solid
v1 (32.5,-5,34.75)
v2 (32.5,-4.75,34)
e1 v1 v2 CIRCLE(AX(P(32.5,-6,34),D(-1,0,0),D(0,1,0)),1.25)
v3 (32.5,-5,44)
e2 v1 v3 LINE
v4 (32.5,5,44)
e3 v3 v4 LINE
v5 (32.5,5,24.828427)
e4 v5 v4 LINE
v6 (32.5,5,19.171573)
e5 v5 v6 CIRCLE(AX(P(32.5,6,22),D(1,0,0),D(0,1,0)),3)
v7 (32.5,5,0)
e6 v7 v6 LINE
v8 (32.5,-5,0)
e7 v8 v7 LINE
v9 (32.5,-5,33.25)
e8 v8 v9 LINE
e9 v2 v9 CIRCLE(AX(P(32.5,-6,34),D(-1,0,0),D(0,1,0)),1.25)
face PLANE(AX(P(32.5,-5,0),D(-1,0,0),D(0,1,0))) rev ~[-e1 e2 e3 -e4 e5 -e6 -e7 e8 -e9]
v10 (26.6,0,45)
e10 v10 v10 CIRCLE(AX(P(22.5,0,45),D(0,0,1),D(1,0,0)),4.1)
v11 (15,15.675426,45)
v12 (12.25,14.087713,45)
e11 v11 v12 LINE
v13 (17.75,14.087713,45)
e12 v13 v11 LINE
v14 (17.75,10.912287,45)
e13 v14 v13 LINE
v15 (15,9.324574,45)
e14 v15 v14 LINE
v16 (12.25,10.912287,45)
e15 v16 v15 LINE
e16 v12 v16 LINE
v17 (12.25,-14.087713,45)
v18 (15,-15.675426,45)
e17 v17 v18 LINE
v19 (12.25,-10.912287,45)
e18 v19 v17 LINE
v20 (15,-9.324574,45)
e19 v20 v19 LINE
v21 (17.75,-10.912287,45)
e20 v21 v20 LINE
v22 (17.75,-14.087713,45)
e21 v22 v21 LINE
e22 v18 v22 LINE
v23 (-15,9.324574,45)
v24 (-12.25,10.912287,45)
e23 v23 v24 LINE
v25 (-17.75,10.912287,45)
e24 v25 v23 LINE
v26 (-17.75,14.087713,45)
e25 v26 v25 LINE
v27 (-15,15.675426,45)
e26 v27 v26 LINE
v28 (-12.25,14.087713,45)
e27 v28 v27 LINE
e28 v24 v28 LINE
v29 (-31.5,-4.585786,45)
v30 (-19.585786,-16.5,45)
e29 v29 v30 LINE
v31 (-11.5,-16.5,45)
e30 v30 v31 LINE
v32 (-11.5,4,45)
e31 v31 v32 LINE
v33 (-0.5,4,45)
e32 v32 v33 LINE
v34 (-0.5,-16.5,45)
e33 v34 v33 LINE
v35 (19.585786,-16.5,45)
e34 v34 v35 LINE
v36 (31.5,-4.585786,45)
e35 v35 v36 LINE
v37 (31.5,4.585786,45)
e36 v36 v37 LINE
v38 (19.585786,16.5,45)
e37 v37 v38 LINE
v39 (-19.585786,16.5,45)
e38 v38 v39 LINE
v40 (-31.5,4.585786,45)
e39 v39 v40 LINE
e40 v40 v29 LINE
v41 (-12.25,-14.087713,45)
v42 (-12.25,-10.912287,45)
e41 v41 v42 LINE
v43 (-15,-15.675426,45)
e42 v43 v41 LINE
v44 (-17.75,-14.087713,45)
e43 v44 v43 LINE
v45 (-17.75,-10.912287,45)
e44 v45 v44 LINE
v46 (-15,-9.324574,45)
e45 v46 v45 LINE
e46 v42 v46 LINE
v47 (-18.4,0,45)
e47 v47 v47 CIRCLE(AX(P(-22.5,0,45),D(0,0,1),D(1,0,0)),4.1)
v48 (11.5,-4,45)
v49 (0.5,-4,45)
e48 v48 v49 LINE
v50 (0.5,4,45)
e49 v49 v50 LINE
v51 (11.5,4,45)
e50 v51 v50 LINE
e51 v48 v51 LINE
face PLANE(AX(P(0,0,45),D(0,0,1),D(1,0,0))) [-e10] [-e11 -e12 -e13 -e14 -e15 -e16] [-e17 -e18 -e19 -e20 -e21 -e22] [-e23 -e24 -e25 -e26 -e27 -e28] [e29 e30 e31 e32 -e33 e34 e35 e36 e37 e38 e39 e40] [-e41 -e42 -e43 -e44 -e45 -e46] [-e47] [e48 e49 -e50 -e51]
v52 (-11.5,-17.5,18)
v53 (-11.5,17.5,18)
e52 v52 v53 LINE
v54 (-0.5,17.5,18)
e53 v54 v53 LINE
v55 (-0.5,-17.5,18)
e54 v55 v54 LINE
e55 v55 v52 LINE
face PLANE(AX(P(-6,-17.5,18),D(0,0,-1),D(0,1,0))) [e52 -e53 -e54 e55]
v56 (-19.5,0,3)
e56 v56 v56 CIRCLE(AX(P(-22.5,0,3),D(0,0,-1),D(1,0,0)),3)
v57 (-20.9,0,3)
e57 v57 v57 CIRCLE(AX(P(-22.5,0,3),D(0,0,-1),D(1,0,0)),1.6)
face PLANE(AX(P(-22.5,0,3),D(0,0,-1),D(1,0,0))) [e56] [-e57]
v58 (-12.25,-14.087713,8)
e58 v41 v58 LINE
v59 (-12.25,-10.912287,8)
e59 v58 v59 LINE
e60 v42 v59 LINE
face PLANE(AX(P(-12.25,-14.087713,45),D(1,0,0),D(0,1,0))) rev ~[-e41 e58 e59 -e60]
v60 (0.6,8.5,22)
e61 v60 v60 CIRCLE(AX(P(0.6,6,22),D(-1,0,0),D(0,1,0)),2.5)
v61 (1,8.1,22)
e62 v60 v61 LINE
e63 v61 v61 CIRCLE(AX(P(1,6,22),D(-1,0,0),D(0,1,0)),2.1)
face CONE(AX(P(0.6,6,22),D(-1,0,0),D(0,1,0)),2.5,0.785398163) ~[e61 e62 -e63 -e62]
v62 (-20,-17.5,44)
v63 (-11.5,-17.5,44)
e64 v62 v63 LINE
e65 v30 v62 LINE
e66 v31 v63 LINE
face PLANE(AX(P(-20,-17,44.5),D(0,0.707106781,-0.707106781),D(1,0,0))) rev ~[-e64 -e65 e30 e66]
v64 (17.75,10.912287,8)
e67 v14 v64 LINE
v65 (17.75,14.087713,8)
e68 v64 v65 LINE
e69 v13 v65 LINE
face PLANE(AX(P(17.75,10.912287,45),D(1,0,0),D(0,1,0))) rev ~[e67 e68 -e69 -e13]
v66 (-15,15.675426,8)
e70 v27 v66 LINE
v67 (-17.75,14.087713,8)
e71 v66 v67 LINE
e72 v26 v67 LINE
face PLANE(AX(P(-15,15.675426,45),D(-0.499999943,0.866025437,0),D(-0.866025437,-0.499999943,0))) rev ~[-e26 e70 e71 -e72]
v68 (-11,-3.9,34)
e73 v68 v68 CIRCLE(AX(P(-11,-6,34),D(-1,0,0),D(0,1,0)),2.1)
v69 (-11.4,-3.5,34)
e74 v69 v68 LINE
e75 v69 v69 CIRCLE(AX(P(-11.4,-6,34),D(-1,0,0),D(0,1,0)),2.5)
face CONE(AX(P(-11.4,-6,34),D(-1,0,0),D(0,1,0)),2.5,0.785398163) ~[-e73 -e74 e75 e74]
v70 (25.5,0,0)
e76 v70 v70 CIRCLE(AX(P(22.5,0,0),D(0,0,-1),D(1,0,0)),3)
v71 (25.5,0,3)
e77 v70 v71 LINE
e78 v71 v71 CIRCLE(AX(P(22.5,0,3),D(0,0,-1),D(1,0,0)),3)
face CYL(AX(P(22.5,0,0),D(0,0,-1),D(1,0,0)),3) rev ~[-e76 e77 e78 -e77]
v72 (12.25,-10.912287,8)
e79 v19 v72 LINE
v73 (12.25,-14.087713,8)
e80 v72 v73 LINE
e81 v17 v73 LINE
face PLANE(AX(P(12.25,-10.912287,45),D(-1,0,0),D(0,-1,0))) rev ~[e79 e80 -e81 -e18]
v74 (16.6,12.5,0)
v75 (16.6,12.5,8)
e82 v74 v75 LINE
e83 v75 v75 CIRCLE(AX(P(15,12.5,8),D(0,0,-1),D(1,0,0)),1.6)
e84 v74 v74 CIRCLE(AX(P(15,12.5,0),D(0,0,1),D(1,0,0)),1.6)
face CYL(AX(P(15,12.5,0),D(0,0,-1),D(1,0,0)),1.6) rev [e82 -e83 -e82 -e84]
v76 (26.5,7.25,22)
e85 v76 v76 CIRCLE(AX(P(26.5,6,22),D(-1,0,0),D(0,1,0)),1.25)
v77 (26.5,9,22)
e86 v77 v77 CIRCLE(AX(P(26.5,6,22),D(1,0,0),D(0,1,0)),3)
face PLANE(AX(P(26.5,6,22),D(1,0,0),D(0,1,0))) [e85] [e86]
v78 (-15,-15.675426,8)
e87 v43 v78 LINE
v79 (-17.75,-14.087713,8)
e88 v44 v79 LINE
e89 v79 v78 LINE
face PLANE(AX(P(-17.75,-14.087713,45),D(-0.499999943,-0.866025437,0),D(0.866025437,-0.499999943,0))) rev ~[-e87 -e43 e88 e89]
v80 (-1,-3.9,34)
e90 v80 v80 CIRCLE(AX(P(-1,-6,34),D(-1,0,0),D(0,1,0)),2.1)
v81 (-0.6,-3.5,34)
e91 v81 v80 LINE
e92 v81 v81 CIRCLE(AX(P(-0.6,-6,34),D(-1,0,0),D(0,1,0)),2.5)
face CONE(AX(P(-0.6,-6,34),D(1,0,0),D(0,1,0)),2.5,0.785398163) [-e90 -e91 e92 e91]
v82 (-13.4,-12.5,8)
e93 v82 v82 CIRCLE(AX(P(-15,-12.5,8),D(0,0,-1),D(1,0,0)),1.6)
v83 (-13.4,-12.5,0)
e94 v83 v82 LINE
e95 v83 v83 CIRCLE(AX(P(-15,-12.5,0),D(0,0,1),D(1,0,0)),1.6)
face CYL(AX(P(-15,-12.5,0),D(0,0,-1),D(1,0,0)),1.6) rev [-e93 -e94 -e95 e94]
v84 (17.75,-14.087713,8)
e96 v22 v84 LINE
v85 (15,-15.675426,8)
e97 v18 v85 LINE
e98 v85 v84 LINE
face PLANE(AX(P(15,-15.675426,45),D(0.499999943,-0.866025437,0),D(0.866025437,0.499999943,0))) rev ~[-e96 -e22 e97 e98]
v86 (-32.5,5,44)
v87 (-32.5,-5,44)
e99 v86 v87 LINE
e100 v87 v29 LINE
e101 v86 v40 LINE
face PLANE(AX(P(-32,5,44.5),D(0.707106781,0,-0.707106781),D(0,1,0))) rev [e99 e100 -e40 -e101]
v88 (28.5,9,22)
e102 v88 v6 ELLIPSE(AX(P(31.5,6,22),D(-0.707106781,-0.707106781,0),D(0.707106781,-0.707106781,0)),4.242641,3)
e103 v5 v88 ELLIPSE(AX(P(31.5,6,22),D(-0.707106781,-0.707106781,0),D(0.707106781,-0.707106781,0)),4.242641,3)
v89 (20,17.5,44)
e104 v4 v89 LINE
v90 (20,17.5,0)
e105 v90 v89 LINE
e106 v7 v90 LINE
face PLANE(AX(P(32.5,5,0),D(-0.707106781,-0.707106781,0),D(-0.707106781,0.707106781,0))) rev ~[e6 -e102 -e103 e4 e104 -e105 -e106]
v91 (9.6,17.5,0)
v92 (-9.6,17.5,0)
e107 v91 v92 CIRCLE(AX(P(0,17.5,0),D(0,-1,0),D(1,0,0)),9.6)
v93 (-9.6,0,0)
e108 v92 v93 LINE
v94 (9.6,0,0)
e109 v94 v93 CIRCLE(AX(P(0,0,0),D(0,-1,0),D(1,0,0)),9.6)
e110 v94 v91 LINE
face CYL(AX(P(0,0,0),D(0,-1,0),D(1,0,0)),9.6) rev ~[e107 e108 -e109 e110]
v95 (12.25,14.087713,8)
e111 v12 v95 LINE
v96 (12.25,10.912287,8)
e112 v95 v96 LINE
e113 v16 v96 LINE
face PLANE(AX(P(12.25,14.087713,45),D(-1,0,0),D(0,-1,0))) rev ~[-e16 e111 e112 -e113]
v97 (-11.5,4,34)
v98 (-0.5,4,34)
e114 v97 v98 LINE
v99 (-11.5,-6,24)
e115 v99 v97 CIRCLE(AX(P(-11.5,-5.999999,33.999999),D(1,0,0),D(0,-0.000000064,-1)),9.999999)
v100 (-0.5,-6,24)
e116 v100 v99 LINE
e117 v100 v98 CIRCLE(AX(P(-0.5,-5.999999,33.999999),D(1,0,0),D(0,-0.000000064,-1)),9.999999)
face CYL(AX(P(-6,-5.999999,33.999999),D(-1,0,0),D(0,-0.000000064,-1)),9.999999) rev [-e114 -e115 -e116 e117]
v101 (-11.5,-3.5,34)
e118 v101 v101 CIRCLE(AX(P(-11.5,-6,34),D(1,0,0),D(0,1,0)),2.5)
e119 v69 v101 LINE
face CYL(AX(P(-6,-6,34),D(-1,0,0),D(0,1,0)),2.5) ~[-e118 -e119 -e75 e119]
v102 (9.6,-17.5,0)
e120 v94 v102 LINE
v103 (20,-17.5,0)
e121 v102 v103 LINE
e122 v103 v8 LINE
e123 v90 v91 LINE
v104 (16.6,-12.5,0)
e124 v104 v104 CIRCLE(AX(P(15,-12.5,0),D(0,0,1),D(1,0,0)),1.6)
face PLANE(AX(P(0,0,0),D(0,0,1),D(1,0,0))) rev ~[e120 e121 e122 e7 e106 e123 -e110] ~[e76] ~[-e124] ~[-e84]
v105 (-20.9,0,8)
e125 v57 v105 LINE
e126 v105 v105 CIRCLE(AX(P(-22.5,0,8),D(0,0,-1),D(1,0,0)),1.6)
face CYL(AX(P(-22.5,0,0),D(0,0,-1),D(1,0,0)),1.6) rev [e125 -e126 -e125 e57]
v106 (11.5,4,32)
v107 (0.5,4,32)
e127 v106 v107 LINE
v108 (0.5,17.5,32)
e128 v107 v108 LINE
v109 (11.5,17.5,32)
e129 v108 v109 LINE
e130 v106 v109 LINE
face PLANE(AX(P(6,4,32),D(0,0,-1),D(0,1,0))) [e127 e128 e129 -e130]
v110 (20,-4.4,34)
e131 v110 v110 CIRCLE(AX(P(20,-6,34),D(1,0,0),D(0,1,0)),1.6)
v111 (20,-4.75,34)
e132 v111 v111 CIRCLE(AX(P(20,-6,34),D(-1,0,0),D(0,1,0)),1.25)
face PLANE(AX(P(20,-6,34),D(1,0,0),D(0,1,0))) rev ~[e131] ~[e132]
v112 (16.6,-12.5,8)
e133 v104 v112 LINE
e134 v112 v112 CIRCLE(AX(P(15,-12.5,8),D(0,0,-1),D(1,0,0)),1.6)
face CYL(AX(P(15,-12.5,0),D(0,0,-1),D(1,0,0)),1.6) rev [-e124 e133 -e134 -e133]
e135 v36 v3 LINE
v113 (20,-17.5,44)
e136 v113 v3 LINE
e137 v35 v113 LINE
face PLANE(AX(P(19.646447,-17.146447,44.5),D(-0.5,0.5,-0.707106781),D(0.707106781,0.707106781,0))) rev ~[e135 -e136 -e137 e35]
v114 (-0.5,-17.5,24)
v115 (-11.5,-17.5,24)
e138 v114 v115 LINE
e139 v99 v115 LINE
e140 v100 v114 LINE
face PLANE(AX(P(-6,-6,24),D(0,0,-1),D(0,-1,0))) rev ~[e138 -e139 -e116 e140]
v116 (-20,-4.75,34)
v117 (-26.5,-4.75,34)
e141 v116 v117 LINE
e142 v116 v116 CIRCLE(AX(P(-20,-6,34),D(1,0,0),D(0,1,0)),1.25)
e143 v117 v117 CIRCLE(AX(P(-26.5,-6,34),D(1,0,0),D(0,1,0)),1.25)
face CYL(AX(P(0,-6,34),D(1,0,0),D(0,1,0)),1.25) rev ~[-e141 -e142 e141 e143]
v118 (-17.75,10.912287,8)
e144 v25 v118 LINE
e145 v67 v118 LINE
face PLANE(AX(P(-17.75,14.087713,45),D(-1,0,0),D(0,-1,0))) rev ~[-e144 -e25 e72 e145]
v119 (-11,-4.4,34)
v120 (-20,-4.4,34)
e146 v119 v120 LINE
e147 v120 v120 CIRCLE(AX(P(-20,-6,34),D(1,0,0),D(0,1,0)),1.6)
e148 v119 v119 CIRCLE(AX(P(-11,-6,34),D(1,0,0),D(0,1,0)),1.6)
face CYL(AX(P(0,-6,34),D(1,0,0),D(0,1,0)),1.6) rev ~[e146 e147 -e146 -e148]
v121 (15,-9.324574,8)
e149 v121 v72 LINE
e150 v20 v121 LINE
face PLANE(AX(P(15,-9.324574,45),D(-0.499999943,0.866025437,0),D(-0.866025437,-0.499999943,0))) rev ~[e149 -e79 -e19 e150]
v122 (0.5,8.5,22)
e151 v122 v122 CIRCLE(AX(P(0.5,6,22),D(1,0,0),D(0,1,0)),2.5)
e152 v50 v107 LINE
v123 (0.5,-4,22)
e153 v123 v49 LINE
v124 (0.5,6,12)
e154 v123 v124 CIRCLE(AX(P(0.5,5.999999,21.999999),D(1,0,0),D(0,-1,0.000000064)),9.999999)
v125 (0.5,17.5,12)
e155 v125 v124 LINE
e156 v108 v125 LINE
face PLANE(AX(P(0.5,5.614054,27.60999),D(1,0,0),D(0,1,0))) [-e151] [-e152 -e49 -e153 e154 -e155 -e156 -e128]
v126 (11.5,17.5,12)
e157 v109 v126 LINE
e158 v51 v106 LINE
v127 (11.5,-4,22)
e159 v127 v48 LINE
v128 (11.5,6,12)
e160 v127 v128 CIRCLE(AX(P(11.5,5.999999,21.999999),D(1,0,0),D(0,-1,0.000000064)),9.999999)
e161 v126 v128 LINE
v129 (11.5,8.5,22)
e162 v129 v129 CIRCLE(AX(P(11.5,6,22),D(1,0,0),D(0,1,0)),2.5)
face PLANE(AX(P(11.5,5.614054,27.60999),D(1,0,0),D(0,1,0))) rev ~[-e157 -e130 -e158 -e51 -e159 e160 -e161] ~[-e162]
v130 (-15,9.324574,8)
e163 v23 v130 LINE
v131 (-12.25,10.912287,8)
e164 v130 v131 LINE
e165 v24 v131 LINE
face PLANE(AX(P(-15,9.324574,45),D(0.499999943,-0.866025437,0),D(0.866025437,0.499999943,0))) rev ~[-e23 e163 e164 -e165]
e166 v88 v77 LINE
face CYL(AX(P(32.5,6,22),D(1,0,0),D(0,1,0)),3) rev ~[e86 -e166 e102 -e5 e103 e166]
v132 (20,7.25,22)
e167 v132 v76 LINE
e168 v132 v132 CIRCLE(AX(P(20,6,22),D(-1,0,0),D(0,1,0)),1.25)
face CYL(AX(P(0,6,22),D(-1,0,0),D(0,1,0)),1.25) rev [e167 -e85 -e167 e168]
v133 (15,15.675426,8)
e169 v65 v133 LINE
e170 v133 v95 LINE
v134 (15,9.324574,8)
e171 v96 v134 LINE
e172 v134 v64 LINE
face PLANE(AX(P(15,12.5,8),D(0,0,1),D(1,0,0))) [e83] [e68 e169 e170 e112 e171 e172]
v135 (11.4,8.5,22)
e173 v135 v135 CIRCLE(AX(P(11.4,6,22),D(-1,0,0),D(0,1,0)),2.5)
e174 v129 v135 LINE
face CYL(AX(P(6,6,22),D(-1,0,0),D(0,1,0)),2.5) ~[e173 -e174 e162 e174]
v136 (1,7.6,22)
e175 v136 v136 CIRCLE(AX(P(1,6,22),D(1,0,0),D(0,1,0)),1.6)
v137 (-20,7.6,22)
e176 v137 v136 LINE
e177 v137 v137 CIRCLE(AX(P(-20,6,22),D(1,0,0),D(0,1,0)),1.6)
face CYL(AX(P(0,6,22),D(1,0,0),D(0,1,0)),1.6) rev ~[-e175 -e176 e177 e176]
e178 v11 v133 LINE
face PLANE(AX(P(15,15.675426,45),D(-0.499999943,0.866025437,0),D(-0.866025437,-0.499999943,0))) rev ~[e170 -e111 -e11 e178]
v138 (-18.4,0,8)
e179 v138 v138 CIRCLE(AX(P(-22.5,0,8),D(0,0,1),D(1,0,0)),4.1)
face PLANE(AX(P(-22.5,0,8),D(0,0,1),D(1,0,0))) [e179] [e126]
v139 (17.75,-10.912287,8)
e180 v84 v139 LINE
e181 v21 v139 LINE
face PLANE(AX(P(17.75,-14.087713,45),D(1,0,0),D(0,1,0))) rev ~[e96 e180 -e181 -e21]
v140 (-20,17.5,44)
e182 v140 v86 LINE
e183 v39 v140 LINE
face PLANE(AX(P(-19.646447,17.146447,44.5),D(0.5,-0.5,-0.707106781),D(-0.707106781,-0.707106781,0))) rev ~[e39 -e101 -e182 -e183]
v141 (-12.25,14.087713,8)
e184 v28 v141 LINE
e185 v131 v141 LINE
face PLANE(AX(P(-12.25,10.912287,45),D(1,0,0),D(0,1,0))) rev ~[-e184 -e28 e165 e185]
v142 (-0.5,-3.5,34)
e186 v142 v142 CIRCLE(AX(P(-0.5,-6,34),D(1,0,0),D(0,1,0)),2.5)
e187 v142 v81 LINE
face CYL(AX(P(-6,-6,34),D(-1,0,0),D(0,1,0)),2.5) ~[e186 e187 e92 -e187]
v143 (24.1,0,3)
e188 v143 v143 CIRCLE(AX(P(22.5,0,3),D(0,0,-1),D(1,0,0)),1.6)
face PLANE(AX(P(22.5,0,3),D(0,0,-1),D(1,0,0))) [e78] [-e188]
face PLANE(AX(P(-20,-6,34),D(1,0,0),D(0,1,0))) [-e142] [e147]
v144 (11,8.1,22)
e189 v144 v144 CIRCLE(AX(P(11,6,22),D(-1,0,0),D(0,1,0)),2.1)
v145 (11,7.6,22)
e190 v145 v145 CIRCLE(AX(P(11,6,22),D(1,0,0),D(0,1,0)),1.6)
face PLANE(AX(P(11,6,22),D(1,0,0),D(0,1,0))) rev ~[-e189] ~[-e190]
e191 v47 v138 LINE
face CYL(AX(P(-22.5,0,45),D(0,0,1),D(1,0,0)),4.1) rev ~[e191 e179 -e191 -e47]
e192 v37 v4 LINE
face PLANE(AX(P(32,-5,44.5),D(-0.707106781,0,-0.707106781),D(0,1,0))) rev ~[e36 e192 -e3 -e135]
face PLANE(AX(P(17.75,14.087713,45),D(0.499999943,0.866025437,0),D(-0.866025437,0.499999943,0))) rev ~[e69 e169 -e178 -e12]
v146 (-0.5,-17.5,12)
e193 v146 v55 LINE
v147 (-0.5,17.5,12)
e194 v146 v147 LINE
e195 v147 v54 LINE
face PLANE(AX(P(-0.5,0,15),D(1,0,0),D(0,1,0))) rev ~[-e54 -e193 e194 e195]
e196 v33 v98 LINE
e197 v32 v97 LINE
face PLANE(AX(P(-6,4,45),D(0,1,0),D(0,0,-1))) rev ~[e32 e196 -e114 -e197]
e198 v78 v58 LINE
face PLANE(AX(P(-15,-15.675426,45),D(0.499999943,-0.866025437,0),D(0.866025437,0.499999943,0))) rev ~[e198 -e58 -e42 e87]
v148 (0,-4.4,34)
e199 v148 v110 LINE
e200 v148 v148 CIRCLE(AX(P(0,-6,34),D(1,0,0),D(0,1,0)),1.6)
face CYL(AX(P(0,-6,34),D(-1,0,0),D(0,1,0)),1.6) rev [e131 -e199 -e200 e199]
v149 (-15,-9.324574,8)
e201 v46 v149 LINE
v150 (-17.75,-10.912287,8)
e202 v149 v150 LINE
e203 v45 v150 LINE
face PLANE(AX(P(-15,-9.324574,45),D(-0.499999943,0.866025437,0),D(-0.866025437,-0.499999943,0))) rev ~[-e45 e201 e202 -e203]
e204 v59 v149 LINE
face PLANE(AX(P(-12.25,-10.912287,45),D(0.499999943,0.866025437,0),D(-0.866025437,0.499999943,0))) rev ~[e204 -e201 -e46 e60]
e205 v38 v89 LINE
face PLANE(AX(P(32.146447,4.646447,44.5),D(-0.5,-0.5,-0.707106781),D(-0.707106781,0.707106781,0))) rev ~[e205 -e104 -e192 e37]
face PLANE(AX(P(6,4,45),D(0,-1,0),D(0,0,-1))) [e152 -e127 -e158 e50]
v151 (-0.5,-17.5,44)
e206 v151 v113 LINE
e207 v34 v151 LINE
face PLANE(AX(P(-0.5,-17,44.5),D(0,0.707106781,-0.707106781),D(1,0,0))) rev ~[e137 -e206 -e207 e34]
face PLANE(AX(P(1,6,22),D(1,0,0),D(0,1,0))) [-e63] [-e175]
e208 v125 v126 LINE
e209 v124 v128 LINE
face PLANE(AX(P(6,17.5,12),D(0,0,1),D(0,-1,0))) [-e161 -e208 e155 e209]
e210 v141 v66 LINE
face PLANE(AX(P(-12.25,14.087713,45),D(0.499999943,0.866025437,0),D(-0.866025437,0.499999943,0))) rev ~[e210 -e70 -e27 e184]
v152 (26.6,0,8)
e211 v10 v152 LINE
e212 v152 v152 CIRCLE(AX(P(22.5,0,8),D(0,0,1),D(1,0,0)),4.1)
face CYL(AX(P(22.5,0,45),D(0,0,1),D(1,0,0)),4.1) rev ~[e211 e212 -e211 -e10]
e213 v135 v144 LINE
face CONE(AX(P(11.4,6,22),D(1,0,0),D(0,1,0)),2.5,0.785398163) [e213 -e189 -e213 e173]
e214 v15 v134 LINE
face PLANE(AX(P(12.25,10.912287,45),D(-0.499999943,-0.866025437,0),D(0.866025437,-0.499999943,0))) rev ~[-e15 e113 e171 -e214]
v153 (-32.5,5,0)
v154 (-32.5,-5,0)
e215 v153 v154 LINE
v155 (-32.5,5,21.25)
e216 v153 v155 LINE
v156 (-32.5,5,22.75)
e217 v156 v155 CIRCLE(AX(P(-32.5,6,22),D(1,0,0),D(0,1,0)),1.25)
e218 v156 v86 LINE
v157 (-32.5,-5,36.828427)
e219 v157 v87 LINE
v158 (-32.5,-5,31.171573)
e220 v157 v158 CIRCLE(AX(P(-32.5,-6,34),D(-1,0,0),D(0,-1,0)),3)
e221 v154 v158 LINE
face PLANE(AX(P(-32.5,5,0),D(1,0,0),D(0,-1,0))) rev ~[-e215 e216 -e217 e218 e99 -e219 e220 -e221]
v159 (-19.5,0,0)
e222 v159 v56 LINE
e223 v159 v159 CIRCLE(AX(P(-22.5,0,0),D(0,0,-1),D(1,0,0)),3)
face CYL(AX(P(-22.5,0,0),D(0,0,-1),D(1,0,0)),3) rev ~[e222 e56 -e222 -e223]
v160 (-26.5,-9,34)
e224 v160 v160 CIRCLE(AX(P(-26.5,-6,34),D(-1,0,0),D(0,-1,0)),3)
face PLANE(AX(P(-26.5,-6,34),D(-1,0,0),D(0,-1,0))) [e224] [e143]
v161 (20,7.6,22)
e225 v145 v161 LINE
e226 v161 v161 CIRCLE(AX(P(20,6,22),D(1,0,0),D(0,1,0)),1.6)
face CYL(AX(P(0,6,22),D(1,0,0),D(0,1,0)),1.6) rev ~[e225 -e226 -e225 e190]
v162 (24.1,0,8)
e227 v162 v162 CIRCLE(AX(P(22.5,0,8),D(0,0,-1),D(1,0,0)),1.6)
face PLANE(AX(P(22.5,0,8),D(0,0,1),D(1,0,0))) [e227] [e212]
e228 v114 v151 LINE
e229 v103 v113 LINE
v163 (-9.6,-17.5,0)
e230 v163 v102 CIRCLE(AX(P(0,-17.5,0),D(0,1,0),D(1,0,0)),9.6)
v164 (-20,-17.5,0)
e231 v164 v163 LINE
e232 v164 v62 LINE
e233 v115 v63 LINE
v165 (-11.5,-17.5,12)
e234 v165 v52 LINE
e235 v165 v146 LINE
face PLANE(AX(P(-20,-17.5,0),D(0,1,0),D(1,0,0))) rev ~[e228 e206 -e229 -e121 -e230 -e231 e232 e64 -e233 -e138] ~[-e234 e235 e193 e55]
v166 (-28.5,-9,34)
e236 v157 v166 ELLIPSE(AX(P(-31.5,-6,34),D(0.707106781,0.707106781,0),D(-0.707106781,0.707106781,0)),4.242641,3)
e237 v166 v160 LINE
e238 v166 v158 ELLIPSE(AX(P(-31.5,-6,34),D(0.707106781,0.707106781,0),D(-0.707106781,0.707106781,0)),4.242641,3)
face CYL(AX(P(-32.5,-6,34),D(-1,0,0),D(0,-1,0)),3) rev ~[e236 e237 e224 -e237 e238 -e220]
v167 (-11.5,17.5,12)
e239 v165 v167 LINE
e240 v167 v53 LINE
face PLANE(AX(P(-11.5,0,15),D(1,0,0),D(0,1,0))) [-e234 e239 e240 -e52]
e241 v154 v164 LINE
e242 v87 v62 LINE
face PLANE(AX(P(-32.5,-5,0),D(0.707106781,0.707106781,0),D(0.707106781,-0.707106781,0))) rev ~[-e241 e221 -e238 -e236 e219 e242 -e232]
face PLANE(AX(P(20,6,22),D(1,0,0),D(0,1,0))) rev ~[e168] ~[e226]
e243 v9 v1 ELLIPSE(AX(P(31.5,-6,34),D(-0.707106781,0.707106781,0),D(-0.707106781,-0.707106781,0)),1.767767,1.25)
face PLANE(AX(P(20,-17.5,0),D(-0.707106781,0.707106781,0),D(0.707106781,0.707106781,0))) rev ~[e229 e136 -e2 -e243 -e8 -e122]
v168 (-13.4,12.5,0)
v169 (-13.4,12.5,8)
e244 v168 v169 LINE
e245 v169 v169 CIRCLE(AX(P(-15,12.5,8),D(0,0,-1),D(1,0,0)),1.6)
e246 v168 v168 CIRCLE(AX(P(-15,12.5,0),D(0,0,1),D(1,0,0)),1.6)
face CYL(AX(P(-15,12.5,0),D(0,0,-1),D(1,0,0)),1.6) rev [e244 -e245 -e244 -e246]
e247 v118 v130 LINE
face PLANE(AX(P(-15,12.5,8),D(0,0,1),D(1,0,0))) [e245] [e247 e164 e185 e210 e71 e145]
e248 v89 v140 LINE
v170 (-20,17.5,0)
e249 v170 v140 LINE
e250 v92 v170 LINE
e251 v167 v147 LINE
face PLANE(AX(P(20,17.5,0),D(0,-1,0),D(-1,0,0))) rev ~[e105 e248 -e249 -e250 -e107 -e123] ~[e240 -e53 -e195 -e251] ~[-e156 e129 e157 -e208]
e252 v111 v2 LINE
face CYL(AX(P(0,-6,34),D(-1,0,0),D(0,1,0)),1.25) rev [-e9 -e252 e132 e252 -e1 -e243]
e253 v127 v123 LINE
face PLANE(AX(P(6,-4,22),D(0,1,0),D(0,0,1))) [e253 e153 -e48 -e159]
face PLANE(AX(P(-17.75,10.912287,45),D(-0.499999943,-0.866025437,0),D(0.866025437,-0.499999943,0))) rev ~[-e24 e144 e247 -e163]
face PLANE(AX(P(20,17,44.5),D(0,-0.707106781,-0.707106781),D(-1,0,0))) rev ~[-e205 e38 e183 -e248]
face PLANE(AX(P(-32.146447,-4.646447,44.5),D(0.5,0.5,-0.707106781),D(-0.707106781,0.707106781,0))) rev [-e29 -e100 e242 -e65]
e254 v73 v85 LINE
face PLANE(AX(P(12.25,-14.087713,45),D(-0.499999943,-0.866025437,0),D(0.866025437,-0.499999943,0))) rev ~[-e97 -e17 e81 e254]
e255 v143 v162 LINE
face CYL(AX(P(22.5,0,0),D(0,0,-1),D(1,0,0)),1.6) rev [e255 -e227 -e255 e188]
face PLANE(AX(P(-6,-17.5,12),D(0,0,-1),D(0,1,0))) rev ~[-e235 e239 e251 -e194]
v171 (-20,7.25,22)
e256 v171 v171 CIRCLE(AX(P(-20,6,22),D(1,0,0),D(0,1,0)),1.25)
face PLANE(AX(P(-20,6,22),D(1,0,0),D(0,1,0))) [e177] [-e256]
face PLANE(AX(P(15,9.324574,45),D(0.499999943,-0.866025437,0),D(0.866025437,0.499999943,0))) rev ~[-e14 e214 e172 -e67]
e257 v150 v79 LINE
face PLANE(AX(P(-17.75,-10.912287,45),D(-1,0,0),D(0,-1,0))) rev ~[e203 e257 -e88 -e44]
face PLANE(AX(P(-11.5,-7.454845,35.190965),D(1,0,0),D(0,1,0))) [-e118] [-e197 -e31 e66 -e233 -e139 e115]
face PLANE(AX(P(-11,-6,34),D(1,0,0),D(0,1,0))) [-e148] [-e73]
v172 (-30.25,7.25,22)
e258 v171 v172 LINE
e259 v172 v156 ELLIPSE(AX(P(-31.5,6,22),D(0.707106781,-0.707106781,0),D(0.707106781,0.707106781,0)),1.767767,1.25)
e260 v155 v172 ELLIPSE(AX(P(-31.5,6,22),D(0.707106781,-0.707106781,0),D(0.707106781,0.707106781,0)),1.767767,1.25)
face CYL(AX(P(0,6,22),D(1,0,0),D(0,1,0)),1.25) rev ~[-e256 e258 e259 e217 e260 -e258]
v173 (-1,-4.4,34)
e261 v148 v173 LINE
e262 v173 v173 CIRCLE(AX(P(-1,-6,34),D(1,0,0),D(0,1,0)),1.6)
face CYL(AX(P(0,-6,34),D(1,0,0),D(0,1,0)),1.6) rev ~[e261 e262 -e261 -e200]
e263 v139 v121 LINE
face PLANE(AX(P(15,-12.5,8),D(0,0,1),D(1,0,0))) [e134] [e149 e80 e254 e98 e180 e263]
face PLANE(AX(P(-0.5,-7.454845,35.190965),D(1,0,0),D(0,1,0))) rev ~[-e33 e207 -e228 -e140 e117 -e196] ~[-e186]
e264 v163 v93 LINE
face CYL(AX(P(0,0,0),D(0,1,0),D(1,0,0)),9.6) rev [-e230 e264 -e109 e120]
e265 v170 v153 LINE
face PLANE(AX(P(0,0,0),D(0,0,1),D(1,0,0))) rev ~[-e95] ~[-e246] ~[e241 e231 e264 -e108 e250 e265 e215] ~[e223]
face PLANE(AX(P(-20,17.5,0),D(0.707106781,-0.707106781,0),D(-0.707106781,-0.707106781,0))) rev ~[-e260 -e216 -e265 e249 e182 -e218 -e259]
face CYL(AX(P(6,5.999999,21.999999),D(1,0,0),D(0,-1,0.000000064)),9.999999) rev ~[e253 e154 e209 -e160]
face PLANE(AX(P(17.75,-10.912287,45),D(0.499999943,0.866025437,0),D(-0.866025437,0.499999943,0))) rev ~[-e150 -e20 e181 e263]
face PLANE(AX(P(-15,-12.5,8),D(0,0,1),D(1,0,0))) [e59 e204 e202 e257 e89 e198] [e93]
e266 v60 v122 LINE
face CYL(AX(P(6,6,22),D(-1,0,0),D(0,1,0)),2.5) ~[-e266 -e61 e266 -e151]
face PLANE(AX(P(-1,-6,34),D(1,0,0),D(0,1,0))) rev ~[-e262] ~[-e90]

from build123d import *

# Parameters (mm, degrees)
SKETCH_R             = 1.6
PAD_DEPTH            = 45
SKETCH001_R          = 4.1
POCKET_DEPTH         = 37
SKETCH002_R          = 9.6
POCKET001_DEPTH      = 17.501
POCKET001_DEPTH_BACK = -17.501
SKETCH003_R          = 2.5
SKETCH003_W          = 35
SKETCH003_H          = 6
POCKET002_DEPTH      = 5.5
SKETCH004_R          = 4
POCKET003_DEPTH      = 5
SKETCH005_R          = 2.5
POCKET004_DEPTH      = 5.5
SKETCH006_R          = 4
POCKET005_DEPTH      = 5
SKETCH007_R          = 1.25
POCKET006_DEPTH      = 32.501
POCKET006_DEPTH_BACK = -32.501
SKETCH008_R          = 1.6
POCKET007_DEPTH      = 20
SKETCH009_R          = 3
POCKET008_DEPTH      = 6
SKETCH010_R          = 3
POCKET009_DEPTH      = 6
SKETCH011_R          = 3
POCKET010_DEPTH      = 3
CHAMFER_SIZE         = 1
CHAMFER001_SIZE      = 0.4


with BuildPart() as part:
    # Sketch → Pad (new body)
    with BuildSketch(Plane.XY):
        Polygon((-32.5, 5), (-32.5, -5), (-20, -17.5), (20, -17.5), (32.5, -5), (32.5, 5), (20, 17.5), (-20, 17.5), align=None)
        with Locations((-15, 12.5)):
            Circle(SKETCH_R, mode=Mode.SUBTRACT)
        with Locations((-15, -12.5)):
            Circle(SKETCH_R, mode=Mode.SUBTRACT)
        with Locations((15, -12.5)):
            Circle(SKETCH_R, mode=Mode.SUBTRACT)
        with Locations((15, 12.5)):
            Circle(SKETCH_R, mode=Mode.SUBTRACT)
        with Locations((22.5, 0)):
            Circle(SKETCH_R, mode=Mode.SUBTRACT)
        with Locations((-22.5, 0)):
            Circle(SKETCH_R, mode=Mode.SUBTRACT)
    extrude(amount=PAD_DEPTH)

    # Sketch001 (on Face16 of Pad) → Pocket (cut)
    with BuildSketch(Plane.XY.offset(45)):
        with Locations((-22.5, 0)):
            Circle(SKETCH001_R)
        with Locations((22.5, 0)):
            Circle(SKETCH001_R)
        Polygon((-12.25, 10.912287), (-12.25, 14.087713), (-15, 15.675426), (-17.75, 14.087713), (-17.75, 10.912287), (-15, 9.324574), align=None)
        Polygon((17.75, 10.912287), (17.75, 14.087713), (15, 15.675426), (12.25, 14.087713), (12.25, 10.912287), (15, 9.324574), align=None)
        Polygon((-12.25, -14.087713), (-12.25, -10.912287), (-15, -9.324574), (-17.75, -10.912287), (-17.75, -14.087713), (-15, -15.675426), align=None)
        Polygon((17.75, -14.087713), (17.75, -10.912287), (15, -9.324574), (12.25, -10.912287), (12.25, -14.087713), (15, -15.675426), align=None)
    extrude(amount=-POCKET_DEPTH, mode=Mode.SUBTRACT)

    # Sketch002 → Pocket001 (cut, two sides)
    with BuildSketch(Plane.XZ) as pocket001_sk:
        Circle(SKETCH002_R)
    extrude(amount=-POCKET001_DEPTH, mode=Mode.SUBTRACT)
    extrude(pocket001_sk.sketch, amount=-POCKET001_DEPTH_BACK, mode=Mode.SUBTRACT)

    # Sketch003 (on DatumPlane) → Pocket002 (cut, symmetric)
    with BuildSketch(Plane.YZ.offset(-6)):
        with BuildLine():
            ThreePointArc((-6, 24), (1.071068, 26.928932), (4, 34))
            Line((4, 45), (4, 34))
            Line((-17.5, 45), (4, 45))
            Line((-17.5, 24), (-17.5, 45))
            Line((-6, 24), (-17.5, 24))
        make_face()
        with Locations((-6, 34)):
            Circle(SKETCH003_R, mode=Mode.SUBTRACT)
        with Locations((0, 15)):
            Rectangle(SKETCH003_W, SKETCH003_H)
    extrude(amount=POCKET002_DEPTH, both=True, mode=Mode.SUBTRACT)

    # Sketch004 (on DatumPlane) → Pocket003 (cut, symmetric)
    with BuildSketch(Plane.YZ.offset(-6)):
        with Locations((-6, 34)):
            Circle(SKETCH004_R)
    extrude(amount=POCKET003_DEPTH, both=True, mode=Mode.SUBTRACT)

    # Sketch005 (on DatumPlane) → Pocket004 (cut, symmetric)
    with BuildSketch(Plane.YZ.offset(6)):
        with BuildLine():
            ThreePointArc((-4, 22), (-1.071068, 14.928932), (6, 12))
            Line((17.5, 12), (6, 12))
            Line((17.5, 32), (17.5, 12))
            Line((4, 32), (17.5, 32))
            Line((4, 45), (4, 32))
            Line((-4, 45), (4, 45))
            Line((-4, 22), (-4, 45))
        make_face()
        with Locations((6, 22)):
            Circle(SKETCH005_R, mode=Mode.SUBTRACT)
    extrude(amount=POCKET004_DEPTH, both=True, mode=Mode.SUBTRACT)

    # Sketch006 (on DatumPlane) → Pocket005 (cut, symmetric)
    with BuildSketch(Plane.YZ.offset(6)):
        with Locations((6, 22)):
            Circle(SKETCH006_R)
    extrude(amount=POCKET005_DEPTH, both=True, mode=Mode.SUBTRACT)

    # Sketch007 → Pocket006 (cut, two sides)
    with BuildSketch(Plane.YZ) as pocket006_sk:
        with Locations((-6, 34)):
            Circle(SKETCH007_R)
        with Locations((6, 22)):
            Circle(SKETCH007_R)
    extrude(amount=-POCKET006_DEPTH, mode=Mode.SUBTRACT)
    extrude(pocket006_sk.sketch, amount=-POCKET006_DEPTH_BACK, mode=Mode.SUBTRACT)

    # Sketch008 → Pocket007 (cut, symmetric)
    with BuildSketch(Plane.YZ):
        with Locations((-6, 34)):
            Circle(SKETCH008_R)
        with Locations((6, 22)):
            Circle(SKETCH008_R)
    extrude(amount=POCKET007_DEPTH, both=True, mode=Mode.SUBTRACT)

    # Sketch009 (on Face16 of Pocket007) → Pocket008 (cut)
    with BuildSketch(Plane.YZ.offset(32.5)):
        with Locations((6, 22)):
            Circle(SKETCH009_R)
    extrude(amount=-POCKET008_DEPTH, mode=Mode.SUBTRACT)

    # Sketch010 (on Face1 of Pocket008) → Pocket009 (cut)
    with BuildSketch(Plane(origin=(-32.5, 0, 0), x_dir=(0, -1, 0), z_dir=(-1, 0, 0))):
        with Locations((6, 34)):
            Circle(SKETCH010_R)
    extrude(amount=-POCKET009_DEPTH, mode=Mode.SUBTRACT)

    # Sketch011 (on Face2 of Pocket009) → Pocket010 (cut)
    with BuildSketch(Plane(origin=(0, 0, 0), x_dir=(1, 0, 0), z_dir=(0, 0, -1))):
        with Locations((-22.5, 0)):
            Circle(SKETCH011_R)
        with Locations((22.5, 0)):
            Circle(SKETCH011_R)
    extrude(amount=-POCKET010_DEPTH, mode=Mode.SUBTRACT)

    # Chamfer
    chamfer_edges = [part.edges().sort_by_distance(p)[0] for p in [
        (-15.75, -17.5, 45),
        (-26.25, -11.25, 45),
        (-32.5, 0, 45),
        (-26.25, 11.25, 45),
        (0, 17.5, 45),
        (26.25, 11.25, 45),
        (32.5, 0, 45),
        (26.25, -11.25, 45),
        (9.75, -17.5, 45),
    ]]
    chamfer(chamfer_edges, length=CHAMFER_SIZE)

    # Chamfer001
    chamfer001_edges = [part.edges().sort_by_distance(p)[0] for p in [
        (-11, -8.5, 34),
        (-1, -8.5, 34),
        (1, 3.5, 22),
        (11, 3.5, 22),
    ]]
    chamfer(chamfer001_edges, length=CHAMFER001_SIZE)


solid = part.part
